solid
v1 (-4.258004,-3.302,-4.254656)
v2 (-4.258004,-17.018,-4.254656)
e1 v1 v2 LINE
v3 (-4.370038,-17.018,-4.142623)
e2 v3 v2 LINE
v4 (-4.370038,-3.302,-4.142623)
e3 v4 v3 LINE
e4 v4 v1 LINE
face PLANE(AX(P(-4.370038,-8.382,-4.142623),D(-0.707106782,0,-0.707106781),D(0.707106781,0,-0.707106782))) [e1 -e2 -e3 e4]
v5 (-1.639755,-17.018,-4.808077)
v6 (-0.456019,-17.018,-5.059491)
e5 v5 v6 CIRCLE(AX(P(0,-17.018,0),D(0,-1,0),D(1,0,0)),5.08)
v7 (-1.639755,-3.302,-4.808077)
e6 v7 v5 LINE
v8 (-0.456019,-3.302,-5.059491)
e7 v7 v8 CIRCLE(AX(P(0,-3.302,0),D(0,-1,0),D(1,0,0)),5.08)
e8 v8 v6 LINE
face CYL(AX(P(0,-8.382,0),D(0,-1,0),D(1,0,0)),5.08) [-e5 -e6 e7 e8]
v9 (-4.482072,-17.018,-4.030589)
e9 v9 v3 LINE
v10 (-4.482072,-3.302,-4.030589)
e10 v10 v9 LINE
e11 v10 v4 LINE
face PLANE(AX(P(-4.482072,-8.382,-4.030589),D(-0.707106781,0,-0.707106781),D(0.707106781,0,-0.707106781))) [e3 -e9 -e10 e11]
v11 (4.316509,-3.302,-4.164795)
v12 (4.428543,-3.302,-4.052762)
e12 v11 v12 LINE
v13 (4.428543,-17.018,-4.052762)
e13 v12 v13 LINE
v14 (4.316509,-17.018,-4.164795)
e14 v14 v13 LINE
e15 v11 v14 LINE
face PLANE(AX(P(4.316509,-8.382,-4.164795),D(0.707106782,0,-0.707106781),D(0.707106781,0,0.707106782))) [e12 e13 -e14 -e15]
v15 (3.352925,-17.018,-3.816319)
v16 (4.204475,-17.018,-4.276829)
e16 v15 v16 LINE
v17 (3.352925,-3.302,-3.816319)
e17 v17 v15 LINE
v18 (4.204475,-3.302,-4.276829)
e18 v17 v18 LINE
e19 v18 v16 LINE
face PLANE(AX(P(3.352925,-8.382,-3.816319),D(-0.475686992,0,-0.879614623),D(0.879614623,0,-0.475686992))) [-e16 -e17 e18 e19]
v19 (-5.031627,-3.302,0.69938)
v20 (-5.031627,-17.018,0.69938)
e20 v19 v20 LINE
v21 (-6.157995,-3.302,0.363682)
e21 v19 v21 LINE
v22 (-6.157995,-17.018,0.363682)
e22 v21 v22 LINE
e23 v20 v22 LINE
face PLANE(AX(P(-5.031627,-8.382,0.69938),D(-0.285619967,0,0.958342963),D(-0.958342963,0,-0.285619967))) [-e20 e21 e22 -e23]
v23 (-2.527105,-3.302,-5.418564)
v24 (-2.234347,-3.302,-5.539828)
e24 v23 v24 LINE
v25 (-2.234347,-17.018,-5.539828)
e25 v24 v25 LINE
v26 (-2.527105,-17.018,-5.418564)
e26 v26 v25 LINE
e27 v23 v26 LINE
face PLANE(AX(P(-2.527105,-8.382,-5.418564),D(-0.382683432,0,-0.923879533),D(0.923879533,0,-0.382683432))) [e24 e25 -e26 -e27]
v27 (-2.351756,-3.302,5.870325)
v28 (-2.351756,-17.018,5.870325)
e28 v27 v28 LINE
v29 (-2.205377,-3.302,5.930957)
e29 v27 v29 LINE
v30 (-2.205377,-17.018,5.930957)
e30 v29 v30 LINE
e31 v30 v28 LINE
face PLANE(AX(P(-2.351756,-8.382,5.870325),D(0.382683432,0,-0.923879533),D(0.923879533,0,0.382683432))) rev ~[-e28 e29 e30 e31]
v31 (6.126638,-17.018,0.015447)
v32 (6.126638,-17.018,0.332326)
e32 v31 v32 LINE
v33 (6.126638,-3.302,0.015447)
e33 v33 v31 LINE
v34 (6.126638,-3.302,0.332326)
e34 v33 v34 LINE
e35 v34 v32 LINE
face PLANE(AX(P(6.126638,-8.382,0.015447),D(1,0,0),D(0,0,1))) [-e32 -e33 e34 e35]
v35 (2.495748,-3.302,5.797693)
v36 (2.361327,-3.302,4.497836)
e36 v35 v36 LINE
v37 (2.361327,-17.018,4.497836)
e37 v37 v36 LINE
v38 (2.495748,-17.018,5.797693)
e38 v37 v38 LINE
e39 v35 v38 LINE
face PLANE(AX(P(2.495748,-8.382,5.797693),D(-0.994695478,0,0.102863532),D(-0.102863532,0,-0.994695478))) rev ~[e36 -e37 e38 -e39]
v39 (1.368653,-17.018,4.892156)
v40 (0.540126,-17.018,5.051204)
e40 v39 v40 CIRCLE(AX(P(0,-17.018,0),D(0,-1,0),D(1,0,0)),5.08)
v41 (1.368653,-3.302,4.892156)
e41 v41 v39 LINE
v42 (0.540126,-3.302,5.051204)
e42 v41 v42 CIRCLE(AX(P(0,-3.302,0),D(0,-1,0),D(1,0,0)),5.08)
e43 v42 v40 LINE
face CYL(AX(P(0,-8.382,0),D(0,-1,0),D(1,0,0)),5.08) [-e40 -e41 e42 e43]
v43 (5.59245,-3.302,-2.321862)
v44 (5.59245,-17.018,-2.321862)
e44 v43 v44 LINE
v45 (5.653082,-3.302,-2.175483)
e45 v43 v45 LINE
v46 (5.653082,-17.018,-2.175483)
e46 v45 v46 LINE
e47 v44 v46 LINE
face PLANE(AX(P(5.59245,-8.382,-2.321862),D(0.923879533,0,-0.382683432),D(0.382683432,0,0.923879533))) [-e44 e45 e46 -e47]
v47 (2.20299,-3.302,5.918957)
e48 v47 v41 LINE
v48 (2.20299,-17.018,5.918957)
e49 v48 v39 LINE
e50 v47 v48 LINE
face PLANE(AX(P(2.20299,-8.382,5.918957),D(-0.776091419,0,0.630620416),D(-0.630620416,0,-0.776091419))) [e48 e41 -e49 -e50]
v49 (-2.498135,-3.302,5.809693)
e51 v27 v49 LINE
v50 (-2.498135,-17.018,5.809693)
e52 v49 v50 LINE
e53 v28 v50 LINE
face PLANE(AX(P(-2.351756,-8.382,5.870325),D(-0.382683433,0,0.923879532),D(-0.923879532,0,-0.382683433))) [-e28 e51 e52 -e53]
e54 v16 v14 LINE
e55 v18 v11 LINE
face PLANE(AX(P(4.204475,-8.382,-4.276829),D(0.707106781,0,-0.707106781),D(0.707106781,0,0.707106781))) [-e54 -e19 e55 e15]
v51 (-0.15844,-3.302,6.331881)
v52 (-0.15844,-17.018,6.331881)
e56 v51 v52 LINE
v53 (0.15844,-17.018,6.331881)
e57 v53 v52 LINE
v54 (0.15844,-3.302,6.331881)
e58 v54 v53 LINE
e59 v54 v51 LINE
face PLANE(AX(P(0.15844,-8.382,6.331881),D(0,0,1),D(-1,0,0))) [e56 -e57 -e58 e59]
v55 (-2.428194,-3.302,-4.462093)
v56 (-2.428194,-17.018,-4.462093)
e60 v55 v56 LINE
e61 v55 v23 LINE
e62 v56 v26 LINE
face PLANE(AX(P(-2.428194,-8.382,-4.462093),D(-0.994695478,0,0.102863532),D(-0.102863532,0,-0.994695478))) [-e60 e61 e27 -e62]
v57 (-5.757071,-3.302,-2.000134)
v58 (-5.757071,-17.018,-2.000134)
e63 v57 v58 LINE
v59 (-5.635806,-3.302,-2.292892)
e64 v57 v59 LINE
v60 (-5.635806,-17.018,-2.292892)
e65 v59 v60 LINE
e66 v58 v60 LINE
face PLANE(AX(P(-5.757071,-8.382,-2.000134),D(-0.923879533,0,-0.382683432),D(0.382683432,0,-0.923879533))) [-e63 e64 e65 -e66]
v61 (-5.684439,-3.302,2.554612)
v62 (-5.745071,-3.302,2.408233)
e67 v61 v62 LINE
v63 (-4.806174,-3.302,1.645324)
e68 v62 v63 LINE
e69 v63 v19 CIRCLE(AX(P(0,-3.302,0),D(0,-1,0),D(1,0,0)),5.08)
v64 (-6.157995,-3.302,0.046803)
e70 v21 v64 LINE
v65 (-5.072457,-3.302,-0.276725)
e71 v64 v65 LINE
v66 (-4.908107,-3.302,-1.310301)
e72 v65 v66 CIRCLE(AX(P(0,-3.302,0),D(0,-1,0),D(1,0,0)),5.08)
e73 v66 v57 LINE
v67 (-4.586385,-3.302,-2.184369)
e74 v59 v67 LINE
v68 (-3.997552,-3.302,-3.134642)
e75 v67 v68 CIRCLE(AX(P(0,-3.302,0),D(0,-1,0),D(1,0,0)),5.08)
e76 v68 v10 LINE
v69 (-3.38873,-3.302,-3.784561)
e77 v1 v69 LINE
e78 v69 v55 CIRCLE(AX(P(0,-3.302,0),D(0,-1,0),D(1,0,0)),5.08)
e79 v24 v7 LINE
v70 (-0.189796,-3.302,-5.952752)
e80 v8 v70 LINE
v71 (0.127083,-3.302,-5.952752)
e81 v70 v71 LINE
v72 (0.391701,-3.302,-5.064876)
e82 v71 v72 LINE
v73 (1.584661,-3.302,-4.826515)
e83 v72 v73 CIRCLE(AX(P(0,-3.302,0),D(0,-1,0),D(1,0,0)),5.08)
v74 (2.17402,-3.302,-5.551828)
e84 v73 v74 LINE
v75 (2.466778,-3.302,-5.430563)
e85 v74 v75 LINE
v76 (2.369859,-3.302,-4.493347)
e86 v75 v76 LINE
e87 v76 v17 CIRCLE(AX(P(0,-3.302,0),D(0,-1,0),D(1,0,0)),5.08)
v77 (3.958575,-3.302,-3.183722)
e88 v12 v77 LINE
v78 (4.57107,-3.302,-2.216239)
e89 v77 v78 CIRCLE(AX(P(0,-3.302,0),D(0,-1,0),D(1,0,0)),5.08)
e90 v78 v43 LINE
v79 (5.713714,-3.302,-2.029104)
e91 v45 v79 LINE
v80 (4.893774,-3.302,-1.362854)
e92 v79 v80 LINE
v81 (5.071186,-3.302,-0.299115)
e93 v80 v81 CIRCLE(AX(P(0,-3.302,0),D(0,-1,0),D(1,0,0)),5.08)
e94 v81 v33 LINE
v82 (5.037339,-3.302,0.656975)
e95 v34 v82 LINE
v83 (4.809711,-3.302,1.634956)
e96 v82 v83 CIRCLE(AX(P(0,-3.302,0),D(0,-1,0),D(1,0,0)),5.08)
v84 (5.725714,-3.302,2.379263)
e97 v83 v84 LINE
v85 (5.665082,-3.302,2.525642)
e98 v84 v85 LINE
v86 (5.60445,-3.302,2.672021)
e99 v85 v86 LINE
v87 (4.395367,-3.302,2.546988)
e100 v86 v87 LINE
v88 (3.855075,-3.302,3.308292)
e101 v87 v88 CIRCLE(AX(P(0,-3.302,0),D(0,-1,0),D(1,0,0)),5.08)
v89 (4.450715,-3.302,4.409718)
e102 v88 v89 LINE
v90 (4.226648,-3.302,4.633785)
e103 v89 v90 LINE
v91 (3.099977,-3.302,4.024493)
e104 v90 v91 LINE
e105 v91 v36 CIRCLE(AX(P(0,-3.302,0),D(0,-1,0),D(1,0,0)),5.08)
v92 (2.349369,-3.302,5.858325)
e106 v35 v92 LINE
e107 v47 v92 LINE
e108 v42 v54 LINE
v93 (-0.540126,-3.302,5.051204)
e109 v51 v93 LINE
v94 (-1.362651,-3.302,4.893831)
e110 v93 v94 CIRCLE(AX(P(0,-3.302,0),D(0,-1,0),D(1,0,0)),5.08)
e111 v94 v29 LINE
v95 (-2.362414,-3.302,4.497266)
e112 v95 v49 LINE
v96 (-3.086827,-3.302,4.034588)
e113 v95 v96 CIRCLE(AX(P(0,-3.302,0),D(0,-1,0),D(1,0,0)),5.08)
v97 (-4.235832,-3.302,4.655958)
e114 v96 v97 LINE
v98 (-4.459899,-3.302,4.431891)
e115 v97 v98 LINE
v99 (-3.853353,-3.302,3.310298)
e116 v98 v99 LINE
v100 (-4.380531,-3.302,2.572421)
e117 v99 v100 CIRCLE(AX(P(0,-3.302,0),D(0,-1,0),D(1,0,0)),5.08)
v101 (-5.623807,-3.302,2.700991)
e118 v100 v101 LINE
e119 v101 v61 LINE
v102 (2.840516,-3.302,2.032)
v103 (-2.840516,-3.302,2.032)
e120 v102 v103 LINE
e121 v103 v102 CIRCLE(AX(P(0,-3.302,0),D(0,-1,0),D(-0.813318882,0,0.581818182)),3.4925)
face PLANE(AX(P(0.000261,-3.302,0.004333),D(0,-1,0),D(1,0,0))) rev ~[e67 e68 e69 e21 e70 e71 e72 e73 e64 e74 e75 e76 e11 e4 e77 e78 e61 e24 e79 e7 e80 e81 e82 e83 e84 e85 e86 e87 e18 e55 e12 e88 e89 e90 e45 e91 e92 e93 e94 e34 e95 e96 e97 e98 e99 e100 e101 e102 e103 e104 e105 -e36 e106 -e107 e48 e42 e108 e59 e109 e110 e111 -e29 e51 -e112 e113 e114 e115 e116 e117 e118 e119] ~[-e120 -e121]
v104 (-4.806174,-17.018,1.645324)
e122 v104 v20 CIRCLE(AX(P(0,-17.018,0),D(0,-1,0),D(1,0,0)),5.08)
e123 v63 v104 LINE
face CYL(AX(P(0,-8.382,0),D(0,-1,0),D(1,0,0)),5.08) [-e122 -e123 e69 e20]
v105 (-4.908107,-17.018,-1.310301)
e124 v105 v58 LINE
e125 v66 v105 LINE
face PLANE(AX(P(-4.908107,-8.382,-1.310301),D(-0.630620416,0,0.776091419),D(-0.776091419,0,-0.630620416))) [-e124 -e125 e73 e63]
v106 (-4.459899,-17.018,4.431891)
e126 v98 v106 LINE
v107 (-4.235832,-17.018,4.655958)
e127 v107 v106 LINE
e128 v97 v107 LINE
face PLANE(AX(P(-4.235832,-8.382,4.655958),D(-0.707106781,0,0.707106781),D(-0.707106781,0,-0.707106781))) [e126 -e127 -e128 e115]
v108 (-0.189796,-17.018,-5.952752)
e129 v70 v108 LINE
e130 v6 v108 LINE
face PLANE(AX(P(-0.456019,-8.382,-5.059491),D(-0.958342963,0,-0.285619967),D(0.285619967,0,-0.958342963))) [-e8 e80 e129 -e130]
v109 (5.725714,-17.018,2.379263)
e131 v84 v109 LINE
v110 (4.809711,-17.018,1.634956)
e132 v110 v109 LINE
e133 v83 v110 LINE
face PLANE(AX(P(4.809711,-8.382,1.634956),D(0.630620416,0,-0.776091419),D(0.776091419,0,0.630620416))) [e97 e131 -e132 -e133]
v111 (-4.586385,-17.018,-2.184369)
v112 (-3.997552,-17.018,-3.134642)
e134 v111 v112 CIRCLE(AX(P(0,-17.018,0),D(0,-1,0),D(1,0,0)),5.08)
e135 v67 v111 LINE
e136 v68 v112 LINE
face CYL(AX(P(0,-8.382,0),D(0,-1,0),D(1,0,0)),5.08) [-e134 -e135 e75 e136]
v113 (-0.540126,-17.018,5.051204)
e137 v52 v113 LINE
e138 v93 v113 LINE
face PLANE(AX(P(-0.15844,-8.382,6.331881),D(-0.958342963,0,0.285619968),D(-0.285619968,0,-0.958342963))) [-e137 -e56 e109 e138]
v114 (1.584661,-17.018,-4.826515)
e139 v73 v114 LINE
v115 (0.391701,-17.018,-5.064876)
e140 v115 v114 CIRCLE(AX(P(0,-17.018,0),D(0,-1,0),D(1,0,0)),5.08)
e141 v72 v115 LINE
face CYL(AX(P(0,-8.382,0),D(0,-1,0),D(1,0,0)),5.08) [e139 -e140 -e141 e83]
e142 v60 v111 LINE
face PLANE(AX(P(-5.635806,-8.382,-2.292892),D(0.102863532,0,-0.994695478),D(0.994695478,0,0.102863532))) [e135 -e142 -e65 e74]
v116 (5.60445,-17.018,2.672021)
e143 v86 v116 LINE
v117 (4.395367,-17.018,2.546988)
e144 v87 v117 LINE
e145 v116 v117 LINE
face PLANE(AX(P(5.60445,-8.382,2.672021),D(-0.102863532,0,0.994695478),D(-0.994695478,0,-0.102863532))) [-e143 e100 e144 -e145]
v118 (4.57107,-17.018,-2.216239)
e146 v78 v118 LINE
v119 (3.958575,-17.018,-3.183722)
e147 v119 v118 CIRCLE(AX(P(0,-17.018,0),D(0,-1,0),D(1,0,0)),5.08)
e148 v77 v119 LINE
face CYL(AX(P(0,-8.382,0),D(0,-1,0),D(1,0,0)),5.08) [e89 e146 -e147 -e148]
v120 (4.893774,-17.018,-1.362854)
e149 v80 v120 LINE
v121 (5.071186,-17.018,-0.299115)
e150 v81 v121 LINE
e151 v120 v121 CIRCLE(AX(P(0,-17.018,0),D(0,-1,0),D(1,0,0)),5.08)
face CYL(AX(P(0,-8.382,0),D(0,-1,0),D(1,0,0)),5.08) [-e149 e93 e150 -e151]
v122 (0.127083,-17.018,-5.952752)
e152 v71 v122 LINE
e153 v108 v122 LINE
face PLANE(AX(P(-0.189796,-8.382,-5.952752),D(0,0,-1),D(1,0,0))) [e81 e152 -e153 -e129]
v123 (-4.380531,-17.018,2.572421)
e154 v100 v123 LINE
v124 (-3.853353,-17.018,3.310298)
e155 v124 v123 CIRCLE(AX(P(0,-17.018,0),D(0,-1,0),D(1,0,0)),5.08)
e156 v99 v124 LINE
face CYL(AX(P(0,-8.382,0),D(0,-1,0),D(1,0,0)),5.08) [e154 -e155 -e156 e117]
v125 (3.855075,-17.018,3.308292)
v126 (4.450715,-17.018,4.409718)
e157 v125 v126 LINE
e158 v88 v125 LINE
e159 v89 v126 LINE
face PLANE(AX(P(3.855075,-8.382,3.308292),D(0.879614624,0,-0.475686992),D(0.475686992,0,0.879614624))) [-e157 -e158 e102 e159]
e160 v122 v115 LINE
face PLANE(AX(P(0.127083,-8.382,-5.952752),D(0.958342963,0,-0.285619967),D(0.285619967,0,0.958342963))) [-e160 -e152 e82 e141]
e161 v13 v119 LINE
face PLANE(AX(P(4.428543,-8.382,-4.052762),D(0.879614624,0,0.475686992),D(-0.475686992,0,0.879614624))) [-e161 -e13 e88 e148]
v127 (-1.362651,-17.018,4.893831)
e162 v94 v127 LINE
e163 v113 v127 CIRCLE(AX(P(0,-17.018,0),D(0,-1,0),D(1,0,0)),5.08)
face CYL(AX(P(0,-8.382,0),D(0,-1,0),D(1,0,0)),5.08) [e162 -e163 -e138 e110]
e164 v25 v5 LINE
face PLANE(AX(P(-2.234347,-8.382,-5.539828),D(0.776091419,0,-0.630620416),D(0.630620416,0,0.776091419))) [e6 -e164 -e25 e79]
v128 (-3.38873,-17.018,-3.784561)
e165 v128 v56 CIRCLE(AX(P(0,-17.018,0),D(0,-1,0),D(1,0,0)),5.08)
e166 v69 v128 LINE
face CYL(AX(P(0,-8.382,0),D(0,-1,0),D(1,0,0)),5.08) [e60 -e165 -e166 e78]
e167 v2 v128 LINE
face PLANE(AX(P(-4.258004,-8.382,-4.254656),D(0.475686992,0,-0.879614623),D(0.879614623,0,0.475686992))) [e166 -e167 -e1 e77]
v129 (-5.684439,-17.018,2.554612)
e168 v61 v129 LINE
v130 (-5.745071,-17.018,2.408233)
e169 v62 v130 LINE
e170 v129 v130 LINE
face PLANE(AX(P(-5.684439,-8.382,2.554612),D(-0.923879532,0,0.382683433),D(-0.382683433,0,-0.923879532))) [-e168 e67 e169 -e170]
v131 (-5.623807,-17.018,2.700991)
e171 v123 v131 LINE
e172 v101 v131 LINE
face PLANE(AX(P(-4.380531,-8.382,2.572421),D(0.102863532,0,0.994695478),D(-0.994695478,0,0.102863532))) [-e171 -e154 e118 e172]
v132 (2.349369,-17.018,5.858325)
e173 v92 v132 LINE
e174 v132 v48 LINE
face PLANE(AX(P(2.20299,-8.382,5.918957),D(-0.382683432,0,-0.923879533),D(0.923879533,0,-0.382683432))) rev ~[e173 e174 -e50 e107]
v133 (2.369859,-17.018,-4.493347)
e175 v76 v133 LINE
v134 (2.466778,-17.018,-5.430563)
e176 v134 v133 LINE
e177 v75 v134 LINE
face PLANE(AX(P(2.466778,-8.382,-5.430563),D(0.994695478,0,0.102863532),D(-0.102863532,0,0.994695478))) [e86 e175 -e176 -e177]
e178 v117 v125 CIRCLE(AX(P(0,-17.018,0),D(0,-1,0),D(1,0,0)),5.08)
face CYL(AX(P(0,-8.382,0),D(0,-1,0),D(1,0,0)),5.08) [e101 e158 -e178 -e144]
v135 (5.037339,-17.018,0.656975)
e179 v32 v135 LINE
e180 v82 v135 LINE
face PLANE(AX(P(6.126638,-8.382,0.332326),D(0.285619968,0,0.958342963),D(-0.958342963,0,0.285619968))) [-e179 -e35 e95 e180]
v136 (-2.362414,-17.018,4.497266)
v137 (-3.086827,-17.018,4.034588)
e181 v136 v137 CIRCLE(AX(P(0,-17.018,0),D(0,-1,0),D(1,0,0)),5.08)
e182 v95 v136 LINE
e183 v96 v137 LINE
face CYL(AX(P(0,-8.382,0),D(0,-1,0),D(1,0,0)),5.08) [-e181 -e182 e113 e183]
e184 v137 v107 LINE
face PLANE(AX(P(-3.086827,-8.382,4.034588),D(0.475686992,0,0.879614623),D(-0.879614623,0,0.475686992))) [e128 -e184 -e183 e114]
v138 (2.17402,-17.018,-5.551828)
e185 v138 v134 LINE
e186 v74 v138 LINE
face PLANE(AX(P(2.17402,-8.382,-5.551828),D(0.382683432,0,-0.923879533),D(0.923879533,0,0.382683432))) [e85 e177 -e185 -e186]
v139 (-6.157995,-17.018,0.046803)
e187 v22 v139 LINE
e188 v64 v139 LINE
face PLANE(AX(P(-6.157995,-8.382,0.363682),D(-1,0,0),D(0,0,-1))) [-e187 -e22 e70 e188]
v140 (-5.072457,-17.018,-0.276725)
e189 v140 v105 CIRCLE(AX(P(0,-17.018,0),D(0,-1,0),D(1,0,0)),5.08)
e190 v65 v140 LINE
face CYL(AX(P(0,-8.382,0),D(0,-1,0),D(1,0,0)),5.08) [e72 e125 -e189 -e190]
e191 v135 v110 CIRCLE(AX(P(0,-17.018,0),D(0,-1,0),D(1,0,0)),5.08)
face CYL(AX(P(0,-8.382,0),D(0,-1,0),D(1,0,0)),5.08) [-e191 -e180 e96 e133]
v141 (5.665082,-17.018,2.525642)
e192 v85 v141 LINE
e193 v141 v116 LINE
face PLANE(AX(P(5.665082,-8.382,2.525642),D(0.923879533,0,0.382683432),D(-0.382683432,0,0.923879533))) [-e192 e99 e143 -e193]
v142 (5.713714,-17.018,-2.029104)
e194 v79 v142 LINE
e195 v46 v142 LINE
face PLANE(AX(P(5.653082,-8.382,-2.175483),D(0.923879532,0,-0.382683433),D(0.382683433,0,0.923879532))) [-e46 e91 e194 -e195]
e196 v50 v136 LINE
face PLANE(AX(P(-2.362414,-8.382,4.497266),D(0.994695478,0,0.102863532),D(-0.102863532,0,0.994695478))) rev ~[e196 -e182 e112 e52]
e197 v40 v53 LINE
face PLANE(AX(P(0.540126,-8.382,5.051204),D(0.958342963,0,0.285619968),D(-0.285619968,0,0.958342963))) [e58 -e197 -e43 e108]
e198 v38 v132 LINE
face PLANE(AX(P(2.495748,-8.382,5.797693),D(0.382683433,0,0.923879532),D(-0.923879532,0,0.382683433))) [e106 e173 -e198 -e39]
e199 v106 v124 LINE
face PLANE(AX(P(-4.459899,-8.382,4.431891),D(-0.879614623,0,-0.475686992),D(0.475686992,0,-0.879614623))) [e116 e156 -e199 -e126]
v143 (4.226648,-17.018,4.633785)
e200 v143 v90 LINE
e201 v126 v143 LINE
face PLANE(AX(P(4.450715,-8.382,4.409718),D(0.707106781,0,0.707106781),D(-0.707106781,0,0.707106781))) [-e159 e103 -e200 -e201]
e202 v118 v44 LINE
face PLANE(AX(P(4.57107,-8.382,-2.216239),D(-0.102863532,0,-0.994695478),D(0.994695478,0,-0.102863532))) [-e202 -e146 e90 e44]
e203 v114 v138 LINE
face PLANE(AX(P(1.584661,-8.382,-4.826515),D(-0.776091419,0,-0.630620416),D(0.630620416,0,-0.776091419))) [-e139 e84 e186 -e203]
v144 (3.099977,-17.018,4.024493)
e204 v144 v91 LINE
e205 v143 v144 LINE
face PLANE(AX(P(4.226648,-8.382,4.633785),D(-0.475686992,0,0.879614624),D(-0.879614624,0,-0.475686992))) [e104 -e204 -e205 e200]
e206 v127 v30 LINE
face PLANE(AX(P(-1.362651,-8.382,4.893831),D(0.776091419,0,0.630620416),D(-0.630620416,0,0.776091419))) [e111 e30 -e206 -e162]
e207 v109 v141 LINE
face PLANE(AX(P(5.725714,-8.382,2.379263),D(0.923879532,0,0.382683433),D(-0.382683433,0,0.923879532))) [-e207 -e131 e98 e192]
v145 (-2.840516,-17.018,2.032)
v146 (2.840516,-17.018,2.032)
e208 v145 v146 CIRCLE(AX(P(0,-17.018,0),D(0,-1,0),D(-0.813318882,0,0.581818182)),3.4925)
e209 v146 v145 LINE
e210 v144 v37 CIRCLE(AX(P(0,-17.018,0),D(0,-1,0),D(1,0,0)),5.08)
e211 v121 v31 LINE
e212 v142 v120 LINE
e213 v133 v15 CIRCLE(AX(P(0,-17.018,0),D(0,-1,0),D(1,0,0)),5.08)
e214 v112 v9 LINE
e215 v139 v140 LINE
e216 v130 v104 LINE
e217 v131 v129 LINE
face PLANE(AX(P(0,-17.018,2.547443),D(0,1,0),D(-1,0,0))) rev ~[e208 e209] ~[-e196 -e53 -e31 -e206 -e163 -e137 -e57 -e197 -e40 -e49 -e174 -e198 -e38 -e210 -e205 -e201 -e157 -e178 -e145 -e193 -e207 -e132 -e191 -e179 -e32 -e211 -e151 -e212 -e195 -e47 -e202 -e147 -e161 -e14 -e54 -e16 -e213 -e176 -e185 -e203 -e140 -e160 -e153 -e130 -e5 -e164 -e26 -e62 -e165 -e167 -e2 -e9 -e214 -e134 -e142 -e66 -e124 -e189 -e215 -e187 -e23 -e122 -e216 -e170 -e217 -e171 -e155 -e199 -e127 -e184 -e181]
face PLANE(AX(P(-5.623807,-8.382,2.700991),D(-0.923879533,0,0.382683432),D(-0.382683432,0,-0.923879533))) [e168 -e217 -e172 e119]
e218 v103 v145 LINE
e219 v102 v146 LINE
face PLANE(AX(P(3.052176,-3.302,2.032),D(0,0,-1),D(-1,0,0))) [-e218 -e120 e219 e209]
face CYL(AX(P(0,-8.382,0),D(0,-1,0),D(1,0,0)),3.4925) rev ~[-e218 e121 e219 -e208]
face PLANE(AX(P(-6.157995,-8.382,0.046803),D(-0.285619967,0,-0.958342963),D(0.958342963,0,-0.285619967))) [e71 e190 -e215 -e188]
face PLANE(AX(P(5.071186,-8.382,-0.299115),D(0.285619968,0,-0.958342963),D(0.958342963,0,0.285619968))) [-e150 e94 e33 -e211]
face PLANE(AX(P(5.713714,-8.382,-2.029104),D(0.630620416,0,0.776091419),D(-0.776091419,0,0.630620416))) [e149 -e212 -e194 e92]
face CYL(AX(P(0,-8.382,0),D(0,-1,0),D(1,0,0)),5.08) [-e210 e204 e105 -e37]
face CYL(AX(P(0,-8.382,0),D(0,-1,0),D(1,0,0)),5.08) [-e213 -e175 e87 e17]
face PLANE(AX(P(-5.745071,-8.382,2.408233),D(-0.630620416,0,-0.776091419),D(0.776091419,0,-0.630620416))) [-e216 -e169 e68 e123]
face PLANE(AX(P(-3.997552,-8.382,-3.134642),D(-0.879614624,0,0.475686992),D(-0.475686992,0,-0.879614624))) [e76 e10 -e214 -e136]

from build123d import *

# Parameters (mm, degrees)
F1_DEPTH      = 8.382
F2_R          = 3.4925
F4_DEPTH      = 25.4
F4_DEPTH_BACK = 25.4
F5_R          = 3.4925
F6_DEPTH      = 17.018
F3_R          = 12.173487119
F3_R_2        = 5.08
F7_DEPTH      = 8.636
F9_DEPTH      = 8.636
F10_DEPTH     = 8.382
F11_DEPTH     = 8.382
F12_DEPTH     = 5.08
F14_DEPTH     = 13.716


with BuildPart() as f1:
    # F0 (on Front) → F1 (new body)
    with BuildSketch(Plane.XZ):
        with BuildLine():
            ThreePointArc((6.1828297209, -0.9138471655), (6.2331848102, -0.4581562201), (6.25, 0))
            ThreePointArc((6.25, 0), (6.2331848102, 0.4581562201), (6.1828297209, 0.9138471655))
            ThreePointArc((6.1828297209, 0.9138471655), (5.4126587737, 3.125), (3.8828297209, 4.8975640229))
            ThreePointArc((3.8828297209, 4.8975640229), (3.125, 5.4126587737), (2.3, 5.8114111883))
            ThreePointArc((2.3, 5.8114111883), (1.170722015, 6.1393737436), (0, 6.25))
            ThreePointArc((0, 6.25), (-1.170722015, 6.1393737436), (-2.3, 5.8114111883))
            ThreePointArc((-2.3, 5.8114111883), (-3.125, 5.4126587737), (-3.8828297209, 4.8975640229))
            ThreePointArc((-3.8828297209, 4.8975640229), (-5.4126587737, 3.125), (-6.1828297209, 0.9138471655))
            ThreePointArc((-6.1828297209, 0.9138471655), (-6.25, 0), (-6.1828297209, -0.9138471655))
            ThreePointArc((-6.1828297209, -0.9138471655), (-5.4126587737, -3.125), (-3.8828297209, -4.8975640229))
            ThreePointArc((-3.8828297209, -4.8975640229), (-3.125, -5.4126587737), (-2.3, -5.8114111883))
            ThreePointArc((-2.3, -5.8114111883), (0, -6.25), (2.3, -5.8114111883))
            ThreePointArc((2.3, -5.8114111883), (3.125, -5.4126587737), (3.8828297209, -4.8975640229))
            ThreePointArc((3.8828297209, -4.8975640229), (5.4126587737, -3.125), (6.1828297209, -0.9138471655))
        make_face()
        with BuildLine():
            ThreePointArc((3.8828297209, 4.8975640229), (5.4126587737, 3.125), (6.1828297209, 0.9138471655))
            Line((6.1828297209, 0.9138471655), (8.490734985, 3.7936156124))
            Line((8.490734985, 3.7936156124), (8.010734985, 4.625))
            Line((8.010734985, 4.625), (7.530734985, 5.4563843876))
            Line((7.530734985, 5.4563843876), (3.8828297209, 4.8975640229))
        make_face()
        with BuildLine():
            Line((8.490734985, -3.7936156124), (6.1828297209, -0.9138471655))
            ThreePointArc((6.1828297209, -0.9138471655), (5.4126587737, -3.125), (3.8828297209, -4.8975640229))
            Line((3.8828297209, -4.8975640229), (7.530734985, -5.4563843876))
            Line((7.530734985, -5.4563843876), (8.010734985, -4.625))
            Line((8.010734985, -4.625), (8.490734985, -3.7936156124))
        make_face()
        with BuildLine():
            ThreePointArc((0, 6.25), (1.170722015, 6.1393737436), (2.3, 5.8114111883))
            Line((2.3, 5.8114111883), (0.96, 9.25))
            Line((0.96, 9.25), (0, 9.25))
            Line((0, 9.25), (0, 6.25))
        make_face()
        with BuildLine():
            Line((0.96, -9.25), (2.3, -5.8114111883))
            ThreePointArc((2.3, -5.8114111883), (0, -6.25), (-2.3, -5.8114111883))
            Line((-2.3, -5.8114111883), (-0.96, -9.25))
            Line((-0.96, -9.25), (0, -9.25))
            Line((0, -9.25), (0.96, -9.25))
        make_face()
        with BuildLine():
            ThreePointArc((-2.3, 5.8114111883), (-1.170722015, 6.1393737436), (0, 6.25))
            Line((0, 6.25), (0, 9.25))
            Line((0, 9.25), (-0.96, 9.25))
            Line((-0.96, 9.25), (-2.3, 5.8114111883))
        make_face()
        with BuildLine():
            Line((-7.530734985, -5.4563843876), (-3.8828297209, -4.8975640229))
            ThreePointArc((-3.8828297209, -4.8975640229), (-5.4126587737, -3.125), (-6.1828297209, -0.9138471655))
            Line((-6.1828297209, -0.9138471655), (-8.490734985, -3.7936156124))
            Line((-8.490734985, -3.7936156124), (-8.010734985, -4.625))
            Line((-8.010734985, -4.625), (-7.530734985, -5.4563843876))
        make_face()
        with BuildLine():
            ThreePointArc((-6.1828297209, 0.9138471655), (-5.4126587737, 3.125), (-3.8828297209, 4.8975640229))
            Line((-3.8828297209, 4.8975640229), (-7.530734985, 5.4563843876))
            Line((-7.530734985, 5.4563843876), (-8.010734985, 4.625))
            Line((-8.010734985, 4.625), (-8.490734985, 3.7936156124))
            Line((-8.490734985, 3.7936156124), (-6.1828297209, 0.9138471655))
        make_face()
    extrude(amount=F1_DEPTH)

    # F2 (on face) → F4 (cut, two sides)
    with BuildSketch(Plane.XZ.offset(8.382)) as f4_sk:
        Circle(F2_R)
    extrude(amount=-F4_DEPTH, mode=Mode.SUBTRACT)
    extrude(f4_sk.sketch, amount=F4_DEPTH_BACK, mode=Mode.SUBTRACT)

    # F5 (on face) → F6 (join)
    with BuildSketch(Plane.XZ.offset(8.382)):
        with BuildLine():
            ThreePointArc((6.1828297209, -0.9138471655), (6.25, 0), (6.1828297209, 0.9138471655))
            Line((6.1828297209, 0.9138471655), (8.490734985, 3.7936156124))
            Line((8.490734985, 3.7936156124), (7.530734985, 5.4563843876))
            Line((7.530734985, 5.4563843876), (3.8828297209, 4.8975640229))
            ThreePointArc((3.8828297209, 4.8975640229), (3.125, 5.4126587737), (2.3, 5.8114111883))
            Line((2.3, 5.8114111883), (0.96, 9.25))
            Line((0.96, 9.25), (-0.96, 9.25))
            Line((-0.96, 9.25), (-2.3, 5.8114111883))
            ThreePointArc((-2.3, 5.8114111883), (-3.125, 5.4126587737), (-3.8828297209, 4.8975640229))
            Line((-3.8828297209, 4.8975640229), (-7.530734985, 5.4563843876))
            Line((-7.530734985, 5.4563843876), (-8.490734985, 3.7936156124))
            Line((-8.490734985, 3.7936156124), (-6.1828297209, 0.9138471655))
            ThreePointArc((-6.1828297209, 0.9138471655), (-6.25, 0), (-6.1828297209, -0.9138471655))
            Line((-6.1828297209, -0.9138471655), (-8.490734985, -3.7936156124))
            Line((-8.490734985, -3.7936156124), (-7.530734985, -5.4563843876))
            Line((-7.530734985, -5.4563843876), (-3.8828297209, -4.8975640229))
            ThreePointArc((-3.8828297209, -4.8975640229), (-3.125, -5.4126587737), (-2.3, -5.8114111883))
            Line((-2.3, -5.8114111883), (-0.96, -9.25))
            Line((-0.96, -9.25), (0.96, -9.25))
            Line((0.96, -9.25), (2.3, -5.8114111883))
            ThreePointArc((2.3, -5.8114111883), (3.125, -5.4126587737), (3.8828297209, -4.8975640229))
            Line((3.8828297209, -4.8975640229), (7.530734985, -5.4563843876))
            Line((7.530734985, -5.4563843876), (8.490734985, -3.7936156124))
            Line((8.490734985, -3.7936156124), (6.1828297209, -0.9138471655))
        make_face()
        Circle(F5_R, mode=Mode.SUBTRACT)
    extrude(amount=F6_DEPTH)

    # F3 (on face) → F7 (cut)
    with BuildSketch(Plane.XZ.offset(8.382)):
        Circle(F3_R)
        Circle(F3_R_2, mode=Mode.SUBTRACT)
    extrude(amount=F7_DEPTH, mode=Mode.SUBTRACT)

    # F8 (on face) → F9 (join)
    with BuildSketch(Plane.XZ.offset(8.382)):
        Polygon((0, 6.331880849), (-0.1584395108, 6.331880849), (-0.5401262814, 5.0512041733), (-0.5212335788, 4.7746545562), (0, 4.7746545562), (0.5212335788, 4.7746545562), (0.5401262814, 5.0512041733), (0.1584395108, 6.331880849), align=None)
        Polygon((-2.3517561236, 5.8703246961), (-2.4981351448, 5.8096925202), (-2.3606739939, 4.4804363484), (-2.237388456, 4.2321677417), (-1.7558314209, 4.4316351967), (-1.2742743857, 4.6311026517), (-1.3626507612, 4.8938311069), (-2.2053771024, 5.9309568719), align=None)
        Polygon((-4.3478655788, 4.5439243078), (-4.4598992313, 4.4318906553), (-3.8242173731, 3.2564221897), (-3.6153081055, 3.0742312382), (-3.2467403073, 3.4427990364), (-2.8781725091, 3.8113668345), (-3.0603634606, 4.0202761022), (-4.2358319262, 4.6559579604), align=None)
        Polygon((-5.6844387958, 2.5546121196), (-5.7450709717, 2.4082330984), (-4.7079452067, 1.5655067572), (-4.4452167514, 1.4771303817), (-4.2457492964, 1.9586874169), (-4.0462818414, 2.440244452), (-4.2945504481, 2.5635299899), (-5.62380662, 2.7009911408), align=None)
        Polygon((-6.1579946185, 0.2052428787), (-6.1579946185, 0.0468033679), (-4.8773179428, -0.3348834026), (-4.6007683257, -0.3159907001), (-4.6007683257, 0.2052428787), (-4.6007683257, 0.7264764576), (-4.8773179428, 0.7453691601), (-6.1579946185, 0.3636823896), align=None)
        Polygon((-5.6964384656, -2.1465132448), (-5.6358062898, -2.292892266), (-4.3065501179, -2.1554311152), (-4.0582815112, -2.0321455773), (-4.2577489662, -1.5505885421), (-4.4572164212, -1.069031507), (-4.7199448764, -1.1574078825), (-5.7570706414, -2.0001342236), align=None)
        Polygon((-4.3700380774, -4.1426227), (-4.2580044249, -4.2546563526), (-3.0825359593, -3.6189744944), (-2.9003450077, -3.4100652267), (-3.2689128059, -3.0414974286), (-3.6374806041, -2.6729296304), (-3.8463898718, -2.8551205819), (-4.4820717299, -4.0305890475), align=None)
        Polygon((-2.3807258891, -5.4791959171), (-2.2343468679, -5.5398280929), (-1.3916205268, -4.5027023279), (-1.3032441513, -4.2399738727), (-1.7848011864, -4.0405064177), (-2.2663582216, -3.8410389627), (-2.3896437594, -4.0893075694), (-2.5271049103, -5.4185637413), align=None)
        Polygon((-0.0313566483, -5.9527517398), (0.1270828626, -5.9527517398), (0.5087696331, -4.6720750641), (0.4898769306, -4.395525447), (-0.0313566483, -4.395525447), (-0.5525902271, -4.395525447), (-0.5714829296, -4.6720750641), (-0.1897961591, -5.9527517398), align=None)
        Polygon((2.3203994753, -5.4911955869), (2.4667784965, -5.4305634111), (2.3293173456, -4.1013072392), (2.2060318077, -3.8530386325), (1.7244747726, -4.0525060875), (1.2429177375, -4.2519735425), (1.331294113, -4.5147019977), (2.1740204541, -5.5518277627), align=None)
        Polygon((4.3165089305, -4.1647951987), (4.428542583, -4.0527615461), (3.7928607249, -2.8772930805), (3.5839514572, -2.695102129), (3.215383659, -3.0636699272), (2.8468158608, -3.4322377254), (3.0290068124, -3.641146993), (4.204475278, -4.2768288512), align=None)
        Polygon((5.6530821475, -2.1754830104), (5.7137143234, -2.0291039892), (4.6765885584, -1.1863776481), (4.4138601032, -1.0980012726), (4.2143926482, -1.5795583077), (4.0149251931, -2.0611153428), (4.2631937999, -2.1844008807), (5.5924499717, -2.3218620316), align=None)
        Polygon((6.1266379702, 0.1738862305), (6.1266379702, 0.3323257413), (4.8459612946, 0.7140125118), (4.5694116774, 0.6951198093), (4.5694116774, 0.1738862305), (4.5694116774, -0.3473473484), (4.8459612946, -0.3662400509), (6.1266379702, 0.0154467196), align=None)
        Polygon((5.6650818173, 2.525642354), (5.6044496415, 2.6720213752), (4.2751934697, 2.5345602243), (4.0269248629, 2.4112746865), (4.2263923179, 1.9297176513), (4.425859773, 1.4481606162), (4.6885882282, 1.5365369917), (5.7257139932, 2.3792633328), align=None)
        Polygon((4.3386814291, 4.5217518092), (4.2266477766, 4.6337854617), (3.051179311, 3.9981036036), (2.8689883595, 3.7891943359), (3.2375561576, 3.4206265377), (3.6061239558, 3.0520587396), (3.8150332235, 3.2342496911), (4.4507150816, 4.4097181567), align=None)
        Polygon((2.3493692408, 5.8583250263), (2.2029902196, 5.9189572021), (1.3602638785, 4.8818314371), (1.271887503, 4.6191029819), (1.7534445381, 4.4196355269), (2.2350015733, 4.2201680719), (2.3582871112, 4.4684366786), (2.495748262, 5.7976928504), align=None)
    extrude(amount=F9_DEPTH)

    # F10 (cut): a face of the model
    f10_faces = [f1.faces().sort_by_distance(p)[0] for p in [
        (2.9994392256, -25.4, -5.195181133),
    ]]
    extrude(f10_faces, amount=-F10_DEPTH, mode=Mode.SUBTRACT)

    # F11 (cut): a face of the model
    f11_faces = [f1.faces().sort_by_distance(p)[0] for p in [
        (7.1408252188, 0, 2.5107754394),
    ]]
    extrude(f11_faces, amount=-F11_DEPTH, mode=Mode.SUBTRACT)

    # F12 (add): a face of the model
    f12_faces = [f1.faces().sort_by_distance(p)[0] for p in [
        (-2.257465366, -8.382, 5.1713496699),
    ]]
    extrude(f12_faces, amount=F12_DEPTH)

    # F13 (on face) → F14 (join, through all)
    with BuildSketch(Plane(origin=(0, -3.302, 0), x_dir=(-1, 0, 0), z_dir=(0, 1, 0))):
        with BuildLine():
            Line((-3.0521756738, 2.032), (3.0521756738, 2.032))
            ThreePointArc((3.0521756738, 2.032), (0, 3.6667151981), (-3.0521756738, 2.032))
        make_face()
    extrude(amount=-F14_DEPTH)


solid = f1.part
